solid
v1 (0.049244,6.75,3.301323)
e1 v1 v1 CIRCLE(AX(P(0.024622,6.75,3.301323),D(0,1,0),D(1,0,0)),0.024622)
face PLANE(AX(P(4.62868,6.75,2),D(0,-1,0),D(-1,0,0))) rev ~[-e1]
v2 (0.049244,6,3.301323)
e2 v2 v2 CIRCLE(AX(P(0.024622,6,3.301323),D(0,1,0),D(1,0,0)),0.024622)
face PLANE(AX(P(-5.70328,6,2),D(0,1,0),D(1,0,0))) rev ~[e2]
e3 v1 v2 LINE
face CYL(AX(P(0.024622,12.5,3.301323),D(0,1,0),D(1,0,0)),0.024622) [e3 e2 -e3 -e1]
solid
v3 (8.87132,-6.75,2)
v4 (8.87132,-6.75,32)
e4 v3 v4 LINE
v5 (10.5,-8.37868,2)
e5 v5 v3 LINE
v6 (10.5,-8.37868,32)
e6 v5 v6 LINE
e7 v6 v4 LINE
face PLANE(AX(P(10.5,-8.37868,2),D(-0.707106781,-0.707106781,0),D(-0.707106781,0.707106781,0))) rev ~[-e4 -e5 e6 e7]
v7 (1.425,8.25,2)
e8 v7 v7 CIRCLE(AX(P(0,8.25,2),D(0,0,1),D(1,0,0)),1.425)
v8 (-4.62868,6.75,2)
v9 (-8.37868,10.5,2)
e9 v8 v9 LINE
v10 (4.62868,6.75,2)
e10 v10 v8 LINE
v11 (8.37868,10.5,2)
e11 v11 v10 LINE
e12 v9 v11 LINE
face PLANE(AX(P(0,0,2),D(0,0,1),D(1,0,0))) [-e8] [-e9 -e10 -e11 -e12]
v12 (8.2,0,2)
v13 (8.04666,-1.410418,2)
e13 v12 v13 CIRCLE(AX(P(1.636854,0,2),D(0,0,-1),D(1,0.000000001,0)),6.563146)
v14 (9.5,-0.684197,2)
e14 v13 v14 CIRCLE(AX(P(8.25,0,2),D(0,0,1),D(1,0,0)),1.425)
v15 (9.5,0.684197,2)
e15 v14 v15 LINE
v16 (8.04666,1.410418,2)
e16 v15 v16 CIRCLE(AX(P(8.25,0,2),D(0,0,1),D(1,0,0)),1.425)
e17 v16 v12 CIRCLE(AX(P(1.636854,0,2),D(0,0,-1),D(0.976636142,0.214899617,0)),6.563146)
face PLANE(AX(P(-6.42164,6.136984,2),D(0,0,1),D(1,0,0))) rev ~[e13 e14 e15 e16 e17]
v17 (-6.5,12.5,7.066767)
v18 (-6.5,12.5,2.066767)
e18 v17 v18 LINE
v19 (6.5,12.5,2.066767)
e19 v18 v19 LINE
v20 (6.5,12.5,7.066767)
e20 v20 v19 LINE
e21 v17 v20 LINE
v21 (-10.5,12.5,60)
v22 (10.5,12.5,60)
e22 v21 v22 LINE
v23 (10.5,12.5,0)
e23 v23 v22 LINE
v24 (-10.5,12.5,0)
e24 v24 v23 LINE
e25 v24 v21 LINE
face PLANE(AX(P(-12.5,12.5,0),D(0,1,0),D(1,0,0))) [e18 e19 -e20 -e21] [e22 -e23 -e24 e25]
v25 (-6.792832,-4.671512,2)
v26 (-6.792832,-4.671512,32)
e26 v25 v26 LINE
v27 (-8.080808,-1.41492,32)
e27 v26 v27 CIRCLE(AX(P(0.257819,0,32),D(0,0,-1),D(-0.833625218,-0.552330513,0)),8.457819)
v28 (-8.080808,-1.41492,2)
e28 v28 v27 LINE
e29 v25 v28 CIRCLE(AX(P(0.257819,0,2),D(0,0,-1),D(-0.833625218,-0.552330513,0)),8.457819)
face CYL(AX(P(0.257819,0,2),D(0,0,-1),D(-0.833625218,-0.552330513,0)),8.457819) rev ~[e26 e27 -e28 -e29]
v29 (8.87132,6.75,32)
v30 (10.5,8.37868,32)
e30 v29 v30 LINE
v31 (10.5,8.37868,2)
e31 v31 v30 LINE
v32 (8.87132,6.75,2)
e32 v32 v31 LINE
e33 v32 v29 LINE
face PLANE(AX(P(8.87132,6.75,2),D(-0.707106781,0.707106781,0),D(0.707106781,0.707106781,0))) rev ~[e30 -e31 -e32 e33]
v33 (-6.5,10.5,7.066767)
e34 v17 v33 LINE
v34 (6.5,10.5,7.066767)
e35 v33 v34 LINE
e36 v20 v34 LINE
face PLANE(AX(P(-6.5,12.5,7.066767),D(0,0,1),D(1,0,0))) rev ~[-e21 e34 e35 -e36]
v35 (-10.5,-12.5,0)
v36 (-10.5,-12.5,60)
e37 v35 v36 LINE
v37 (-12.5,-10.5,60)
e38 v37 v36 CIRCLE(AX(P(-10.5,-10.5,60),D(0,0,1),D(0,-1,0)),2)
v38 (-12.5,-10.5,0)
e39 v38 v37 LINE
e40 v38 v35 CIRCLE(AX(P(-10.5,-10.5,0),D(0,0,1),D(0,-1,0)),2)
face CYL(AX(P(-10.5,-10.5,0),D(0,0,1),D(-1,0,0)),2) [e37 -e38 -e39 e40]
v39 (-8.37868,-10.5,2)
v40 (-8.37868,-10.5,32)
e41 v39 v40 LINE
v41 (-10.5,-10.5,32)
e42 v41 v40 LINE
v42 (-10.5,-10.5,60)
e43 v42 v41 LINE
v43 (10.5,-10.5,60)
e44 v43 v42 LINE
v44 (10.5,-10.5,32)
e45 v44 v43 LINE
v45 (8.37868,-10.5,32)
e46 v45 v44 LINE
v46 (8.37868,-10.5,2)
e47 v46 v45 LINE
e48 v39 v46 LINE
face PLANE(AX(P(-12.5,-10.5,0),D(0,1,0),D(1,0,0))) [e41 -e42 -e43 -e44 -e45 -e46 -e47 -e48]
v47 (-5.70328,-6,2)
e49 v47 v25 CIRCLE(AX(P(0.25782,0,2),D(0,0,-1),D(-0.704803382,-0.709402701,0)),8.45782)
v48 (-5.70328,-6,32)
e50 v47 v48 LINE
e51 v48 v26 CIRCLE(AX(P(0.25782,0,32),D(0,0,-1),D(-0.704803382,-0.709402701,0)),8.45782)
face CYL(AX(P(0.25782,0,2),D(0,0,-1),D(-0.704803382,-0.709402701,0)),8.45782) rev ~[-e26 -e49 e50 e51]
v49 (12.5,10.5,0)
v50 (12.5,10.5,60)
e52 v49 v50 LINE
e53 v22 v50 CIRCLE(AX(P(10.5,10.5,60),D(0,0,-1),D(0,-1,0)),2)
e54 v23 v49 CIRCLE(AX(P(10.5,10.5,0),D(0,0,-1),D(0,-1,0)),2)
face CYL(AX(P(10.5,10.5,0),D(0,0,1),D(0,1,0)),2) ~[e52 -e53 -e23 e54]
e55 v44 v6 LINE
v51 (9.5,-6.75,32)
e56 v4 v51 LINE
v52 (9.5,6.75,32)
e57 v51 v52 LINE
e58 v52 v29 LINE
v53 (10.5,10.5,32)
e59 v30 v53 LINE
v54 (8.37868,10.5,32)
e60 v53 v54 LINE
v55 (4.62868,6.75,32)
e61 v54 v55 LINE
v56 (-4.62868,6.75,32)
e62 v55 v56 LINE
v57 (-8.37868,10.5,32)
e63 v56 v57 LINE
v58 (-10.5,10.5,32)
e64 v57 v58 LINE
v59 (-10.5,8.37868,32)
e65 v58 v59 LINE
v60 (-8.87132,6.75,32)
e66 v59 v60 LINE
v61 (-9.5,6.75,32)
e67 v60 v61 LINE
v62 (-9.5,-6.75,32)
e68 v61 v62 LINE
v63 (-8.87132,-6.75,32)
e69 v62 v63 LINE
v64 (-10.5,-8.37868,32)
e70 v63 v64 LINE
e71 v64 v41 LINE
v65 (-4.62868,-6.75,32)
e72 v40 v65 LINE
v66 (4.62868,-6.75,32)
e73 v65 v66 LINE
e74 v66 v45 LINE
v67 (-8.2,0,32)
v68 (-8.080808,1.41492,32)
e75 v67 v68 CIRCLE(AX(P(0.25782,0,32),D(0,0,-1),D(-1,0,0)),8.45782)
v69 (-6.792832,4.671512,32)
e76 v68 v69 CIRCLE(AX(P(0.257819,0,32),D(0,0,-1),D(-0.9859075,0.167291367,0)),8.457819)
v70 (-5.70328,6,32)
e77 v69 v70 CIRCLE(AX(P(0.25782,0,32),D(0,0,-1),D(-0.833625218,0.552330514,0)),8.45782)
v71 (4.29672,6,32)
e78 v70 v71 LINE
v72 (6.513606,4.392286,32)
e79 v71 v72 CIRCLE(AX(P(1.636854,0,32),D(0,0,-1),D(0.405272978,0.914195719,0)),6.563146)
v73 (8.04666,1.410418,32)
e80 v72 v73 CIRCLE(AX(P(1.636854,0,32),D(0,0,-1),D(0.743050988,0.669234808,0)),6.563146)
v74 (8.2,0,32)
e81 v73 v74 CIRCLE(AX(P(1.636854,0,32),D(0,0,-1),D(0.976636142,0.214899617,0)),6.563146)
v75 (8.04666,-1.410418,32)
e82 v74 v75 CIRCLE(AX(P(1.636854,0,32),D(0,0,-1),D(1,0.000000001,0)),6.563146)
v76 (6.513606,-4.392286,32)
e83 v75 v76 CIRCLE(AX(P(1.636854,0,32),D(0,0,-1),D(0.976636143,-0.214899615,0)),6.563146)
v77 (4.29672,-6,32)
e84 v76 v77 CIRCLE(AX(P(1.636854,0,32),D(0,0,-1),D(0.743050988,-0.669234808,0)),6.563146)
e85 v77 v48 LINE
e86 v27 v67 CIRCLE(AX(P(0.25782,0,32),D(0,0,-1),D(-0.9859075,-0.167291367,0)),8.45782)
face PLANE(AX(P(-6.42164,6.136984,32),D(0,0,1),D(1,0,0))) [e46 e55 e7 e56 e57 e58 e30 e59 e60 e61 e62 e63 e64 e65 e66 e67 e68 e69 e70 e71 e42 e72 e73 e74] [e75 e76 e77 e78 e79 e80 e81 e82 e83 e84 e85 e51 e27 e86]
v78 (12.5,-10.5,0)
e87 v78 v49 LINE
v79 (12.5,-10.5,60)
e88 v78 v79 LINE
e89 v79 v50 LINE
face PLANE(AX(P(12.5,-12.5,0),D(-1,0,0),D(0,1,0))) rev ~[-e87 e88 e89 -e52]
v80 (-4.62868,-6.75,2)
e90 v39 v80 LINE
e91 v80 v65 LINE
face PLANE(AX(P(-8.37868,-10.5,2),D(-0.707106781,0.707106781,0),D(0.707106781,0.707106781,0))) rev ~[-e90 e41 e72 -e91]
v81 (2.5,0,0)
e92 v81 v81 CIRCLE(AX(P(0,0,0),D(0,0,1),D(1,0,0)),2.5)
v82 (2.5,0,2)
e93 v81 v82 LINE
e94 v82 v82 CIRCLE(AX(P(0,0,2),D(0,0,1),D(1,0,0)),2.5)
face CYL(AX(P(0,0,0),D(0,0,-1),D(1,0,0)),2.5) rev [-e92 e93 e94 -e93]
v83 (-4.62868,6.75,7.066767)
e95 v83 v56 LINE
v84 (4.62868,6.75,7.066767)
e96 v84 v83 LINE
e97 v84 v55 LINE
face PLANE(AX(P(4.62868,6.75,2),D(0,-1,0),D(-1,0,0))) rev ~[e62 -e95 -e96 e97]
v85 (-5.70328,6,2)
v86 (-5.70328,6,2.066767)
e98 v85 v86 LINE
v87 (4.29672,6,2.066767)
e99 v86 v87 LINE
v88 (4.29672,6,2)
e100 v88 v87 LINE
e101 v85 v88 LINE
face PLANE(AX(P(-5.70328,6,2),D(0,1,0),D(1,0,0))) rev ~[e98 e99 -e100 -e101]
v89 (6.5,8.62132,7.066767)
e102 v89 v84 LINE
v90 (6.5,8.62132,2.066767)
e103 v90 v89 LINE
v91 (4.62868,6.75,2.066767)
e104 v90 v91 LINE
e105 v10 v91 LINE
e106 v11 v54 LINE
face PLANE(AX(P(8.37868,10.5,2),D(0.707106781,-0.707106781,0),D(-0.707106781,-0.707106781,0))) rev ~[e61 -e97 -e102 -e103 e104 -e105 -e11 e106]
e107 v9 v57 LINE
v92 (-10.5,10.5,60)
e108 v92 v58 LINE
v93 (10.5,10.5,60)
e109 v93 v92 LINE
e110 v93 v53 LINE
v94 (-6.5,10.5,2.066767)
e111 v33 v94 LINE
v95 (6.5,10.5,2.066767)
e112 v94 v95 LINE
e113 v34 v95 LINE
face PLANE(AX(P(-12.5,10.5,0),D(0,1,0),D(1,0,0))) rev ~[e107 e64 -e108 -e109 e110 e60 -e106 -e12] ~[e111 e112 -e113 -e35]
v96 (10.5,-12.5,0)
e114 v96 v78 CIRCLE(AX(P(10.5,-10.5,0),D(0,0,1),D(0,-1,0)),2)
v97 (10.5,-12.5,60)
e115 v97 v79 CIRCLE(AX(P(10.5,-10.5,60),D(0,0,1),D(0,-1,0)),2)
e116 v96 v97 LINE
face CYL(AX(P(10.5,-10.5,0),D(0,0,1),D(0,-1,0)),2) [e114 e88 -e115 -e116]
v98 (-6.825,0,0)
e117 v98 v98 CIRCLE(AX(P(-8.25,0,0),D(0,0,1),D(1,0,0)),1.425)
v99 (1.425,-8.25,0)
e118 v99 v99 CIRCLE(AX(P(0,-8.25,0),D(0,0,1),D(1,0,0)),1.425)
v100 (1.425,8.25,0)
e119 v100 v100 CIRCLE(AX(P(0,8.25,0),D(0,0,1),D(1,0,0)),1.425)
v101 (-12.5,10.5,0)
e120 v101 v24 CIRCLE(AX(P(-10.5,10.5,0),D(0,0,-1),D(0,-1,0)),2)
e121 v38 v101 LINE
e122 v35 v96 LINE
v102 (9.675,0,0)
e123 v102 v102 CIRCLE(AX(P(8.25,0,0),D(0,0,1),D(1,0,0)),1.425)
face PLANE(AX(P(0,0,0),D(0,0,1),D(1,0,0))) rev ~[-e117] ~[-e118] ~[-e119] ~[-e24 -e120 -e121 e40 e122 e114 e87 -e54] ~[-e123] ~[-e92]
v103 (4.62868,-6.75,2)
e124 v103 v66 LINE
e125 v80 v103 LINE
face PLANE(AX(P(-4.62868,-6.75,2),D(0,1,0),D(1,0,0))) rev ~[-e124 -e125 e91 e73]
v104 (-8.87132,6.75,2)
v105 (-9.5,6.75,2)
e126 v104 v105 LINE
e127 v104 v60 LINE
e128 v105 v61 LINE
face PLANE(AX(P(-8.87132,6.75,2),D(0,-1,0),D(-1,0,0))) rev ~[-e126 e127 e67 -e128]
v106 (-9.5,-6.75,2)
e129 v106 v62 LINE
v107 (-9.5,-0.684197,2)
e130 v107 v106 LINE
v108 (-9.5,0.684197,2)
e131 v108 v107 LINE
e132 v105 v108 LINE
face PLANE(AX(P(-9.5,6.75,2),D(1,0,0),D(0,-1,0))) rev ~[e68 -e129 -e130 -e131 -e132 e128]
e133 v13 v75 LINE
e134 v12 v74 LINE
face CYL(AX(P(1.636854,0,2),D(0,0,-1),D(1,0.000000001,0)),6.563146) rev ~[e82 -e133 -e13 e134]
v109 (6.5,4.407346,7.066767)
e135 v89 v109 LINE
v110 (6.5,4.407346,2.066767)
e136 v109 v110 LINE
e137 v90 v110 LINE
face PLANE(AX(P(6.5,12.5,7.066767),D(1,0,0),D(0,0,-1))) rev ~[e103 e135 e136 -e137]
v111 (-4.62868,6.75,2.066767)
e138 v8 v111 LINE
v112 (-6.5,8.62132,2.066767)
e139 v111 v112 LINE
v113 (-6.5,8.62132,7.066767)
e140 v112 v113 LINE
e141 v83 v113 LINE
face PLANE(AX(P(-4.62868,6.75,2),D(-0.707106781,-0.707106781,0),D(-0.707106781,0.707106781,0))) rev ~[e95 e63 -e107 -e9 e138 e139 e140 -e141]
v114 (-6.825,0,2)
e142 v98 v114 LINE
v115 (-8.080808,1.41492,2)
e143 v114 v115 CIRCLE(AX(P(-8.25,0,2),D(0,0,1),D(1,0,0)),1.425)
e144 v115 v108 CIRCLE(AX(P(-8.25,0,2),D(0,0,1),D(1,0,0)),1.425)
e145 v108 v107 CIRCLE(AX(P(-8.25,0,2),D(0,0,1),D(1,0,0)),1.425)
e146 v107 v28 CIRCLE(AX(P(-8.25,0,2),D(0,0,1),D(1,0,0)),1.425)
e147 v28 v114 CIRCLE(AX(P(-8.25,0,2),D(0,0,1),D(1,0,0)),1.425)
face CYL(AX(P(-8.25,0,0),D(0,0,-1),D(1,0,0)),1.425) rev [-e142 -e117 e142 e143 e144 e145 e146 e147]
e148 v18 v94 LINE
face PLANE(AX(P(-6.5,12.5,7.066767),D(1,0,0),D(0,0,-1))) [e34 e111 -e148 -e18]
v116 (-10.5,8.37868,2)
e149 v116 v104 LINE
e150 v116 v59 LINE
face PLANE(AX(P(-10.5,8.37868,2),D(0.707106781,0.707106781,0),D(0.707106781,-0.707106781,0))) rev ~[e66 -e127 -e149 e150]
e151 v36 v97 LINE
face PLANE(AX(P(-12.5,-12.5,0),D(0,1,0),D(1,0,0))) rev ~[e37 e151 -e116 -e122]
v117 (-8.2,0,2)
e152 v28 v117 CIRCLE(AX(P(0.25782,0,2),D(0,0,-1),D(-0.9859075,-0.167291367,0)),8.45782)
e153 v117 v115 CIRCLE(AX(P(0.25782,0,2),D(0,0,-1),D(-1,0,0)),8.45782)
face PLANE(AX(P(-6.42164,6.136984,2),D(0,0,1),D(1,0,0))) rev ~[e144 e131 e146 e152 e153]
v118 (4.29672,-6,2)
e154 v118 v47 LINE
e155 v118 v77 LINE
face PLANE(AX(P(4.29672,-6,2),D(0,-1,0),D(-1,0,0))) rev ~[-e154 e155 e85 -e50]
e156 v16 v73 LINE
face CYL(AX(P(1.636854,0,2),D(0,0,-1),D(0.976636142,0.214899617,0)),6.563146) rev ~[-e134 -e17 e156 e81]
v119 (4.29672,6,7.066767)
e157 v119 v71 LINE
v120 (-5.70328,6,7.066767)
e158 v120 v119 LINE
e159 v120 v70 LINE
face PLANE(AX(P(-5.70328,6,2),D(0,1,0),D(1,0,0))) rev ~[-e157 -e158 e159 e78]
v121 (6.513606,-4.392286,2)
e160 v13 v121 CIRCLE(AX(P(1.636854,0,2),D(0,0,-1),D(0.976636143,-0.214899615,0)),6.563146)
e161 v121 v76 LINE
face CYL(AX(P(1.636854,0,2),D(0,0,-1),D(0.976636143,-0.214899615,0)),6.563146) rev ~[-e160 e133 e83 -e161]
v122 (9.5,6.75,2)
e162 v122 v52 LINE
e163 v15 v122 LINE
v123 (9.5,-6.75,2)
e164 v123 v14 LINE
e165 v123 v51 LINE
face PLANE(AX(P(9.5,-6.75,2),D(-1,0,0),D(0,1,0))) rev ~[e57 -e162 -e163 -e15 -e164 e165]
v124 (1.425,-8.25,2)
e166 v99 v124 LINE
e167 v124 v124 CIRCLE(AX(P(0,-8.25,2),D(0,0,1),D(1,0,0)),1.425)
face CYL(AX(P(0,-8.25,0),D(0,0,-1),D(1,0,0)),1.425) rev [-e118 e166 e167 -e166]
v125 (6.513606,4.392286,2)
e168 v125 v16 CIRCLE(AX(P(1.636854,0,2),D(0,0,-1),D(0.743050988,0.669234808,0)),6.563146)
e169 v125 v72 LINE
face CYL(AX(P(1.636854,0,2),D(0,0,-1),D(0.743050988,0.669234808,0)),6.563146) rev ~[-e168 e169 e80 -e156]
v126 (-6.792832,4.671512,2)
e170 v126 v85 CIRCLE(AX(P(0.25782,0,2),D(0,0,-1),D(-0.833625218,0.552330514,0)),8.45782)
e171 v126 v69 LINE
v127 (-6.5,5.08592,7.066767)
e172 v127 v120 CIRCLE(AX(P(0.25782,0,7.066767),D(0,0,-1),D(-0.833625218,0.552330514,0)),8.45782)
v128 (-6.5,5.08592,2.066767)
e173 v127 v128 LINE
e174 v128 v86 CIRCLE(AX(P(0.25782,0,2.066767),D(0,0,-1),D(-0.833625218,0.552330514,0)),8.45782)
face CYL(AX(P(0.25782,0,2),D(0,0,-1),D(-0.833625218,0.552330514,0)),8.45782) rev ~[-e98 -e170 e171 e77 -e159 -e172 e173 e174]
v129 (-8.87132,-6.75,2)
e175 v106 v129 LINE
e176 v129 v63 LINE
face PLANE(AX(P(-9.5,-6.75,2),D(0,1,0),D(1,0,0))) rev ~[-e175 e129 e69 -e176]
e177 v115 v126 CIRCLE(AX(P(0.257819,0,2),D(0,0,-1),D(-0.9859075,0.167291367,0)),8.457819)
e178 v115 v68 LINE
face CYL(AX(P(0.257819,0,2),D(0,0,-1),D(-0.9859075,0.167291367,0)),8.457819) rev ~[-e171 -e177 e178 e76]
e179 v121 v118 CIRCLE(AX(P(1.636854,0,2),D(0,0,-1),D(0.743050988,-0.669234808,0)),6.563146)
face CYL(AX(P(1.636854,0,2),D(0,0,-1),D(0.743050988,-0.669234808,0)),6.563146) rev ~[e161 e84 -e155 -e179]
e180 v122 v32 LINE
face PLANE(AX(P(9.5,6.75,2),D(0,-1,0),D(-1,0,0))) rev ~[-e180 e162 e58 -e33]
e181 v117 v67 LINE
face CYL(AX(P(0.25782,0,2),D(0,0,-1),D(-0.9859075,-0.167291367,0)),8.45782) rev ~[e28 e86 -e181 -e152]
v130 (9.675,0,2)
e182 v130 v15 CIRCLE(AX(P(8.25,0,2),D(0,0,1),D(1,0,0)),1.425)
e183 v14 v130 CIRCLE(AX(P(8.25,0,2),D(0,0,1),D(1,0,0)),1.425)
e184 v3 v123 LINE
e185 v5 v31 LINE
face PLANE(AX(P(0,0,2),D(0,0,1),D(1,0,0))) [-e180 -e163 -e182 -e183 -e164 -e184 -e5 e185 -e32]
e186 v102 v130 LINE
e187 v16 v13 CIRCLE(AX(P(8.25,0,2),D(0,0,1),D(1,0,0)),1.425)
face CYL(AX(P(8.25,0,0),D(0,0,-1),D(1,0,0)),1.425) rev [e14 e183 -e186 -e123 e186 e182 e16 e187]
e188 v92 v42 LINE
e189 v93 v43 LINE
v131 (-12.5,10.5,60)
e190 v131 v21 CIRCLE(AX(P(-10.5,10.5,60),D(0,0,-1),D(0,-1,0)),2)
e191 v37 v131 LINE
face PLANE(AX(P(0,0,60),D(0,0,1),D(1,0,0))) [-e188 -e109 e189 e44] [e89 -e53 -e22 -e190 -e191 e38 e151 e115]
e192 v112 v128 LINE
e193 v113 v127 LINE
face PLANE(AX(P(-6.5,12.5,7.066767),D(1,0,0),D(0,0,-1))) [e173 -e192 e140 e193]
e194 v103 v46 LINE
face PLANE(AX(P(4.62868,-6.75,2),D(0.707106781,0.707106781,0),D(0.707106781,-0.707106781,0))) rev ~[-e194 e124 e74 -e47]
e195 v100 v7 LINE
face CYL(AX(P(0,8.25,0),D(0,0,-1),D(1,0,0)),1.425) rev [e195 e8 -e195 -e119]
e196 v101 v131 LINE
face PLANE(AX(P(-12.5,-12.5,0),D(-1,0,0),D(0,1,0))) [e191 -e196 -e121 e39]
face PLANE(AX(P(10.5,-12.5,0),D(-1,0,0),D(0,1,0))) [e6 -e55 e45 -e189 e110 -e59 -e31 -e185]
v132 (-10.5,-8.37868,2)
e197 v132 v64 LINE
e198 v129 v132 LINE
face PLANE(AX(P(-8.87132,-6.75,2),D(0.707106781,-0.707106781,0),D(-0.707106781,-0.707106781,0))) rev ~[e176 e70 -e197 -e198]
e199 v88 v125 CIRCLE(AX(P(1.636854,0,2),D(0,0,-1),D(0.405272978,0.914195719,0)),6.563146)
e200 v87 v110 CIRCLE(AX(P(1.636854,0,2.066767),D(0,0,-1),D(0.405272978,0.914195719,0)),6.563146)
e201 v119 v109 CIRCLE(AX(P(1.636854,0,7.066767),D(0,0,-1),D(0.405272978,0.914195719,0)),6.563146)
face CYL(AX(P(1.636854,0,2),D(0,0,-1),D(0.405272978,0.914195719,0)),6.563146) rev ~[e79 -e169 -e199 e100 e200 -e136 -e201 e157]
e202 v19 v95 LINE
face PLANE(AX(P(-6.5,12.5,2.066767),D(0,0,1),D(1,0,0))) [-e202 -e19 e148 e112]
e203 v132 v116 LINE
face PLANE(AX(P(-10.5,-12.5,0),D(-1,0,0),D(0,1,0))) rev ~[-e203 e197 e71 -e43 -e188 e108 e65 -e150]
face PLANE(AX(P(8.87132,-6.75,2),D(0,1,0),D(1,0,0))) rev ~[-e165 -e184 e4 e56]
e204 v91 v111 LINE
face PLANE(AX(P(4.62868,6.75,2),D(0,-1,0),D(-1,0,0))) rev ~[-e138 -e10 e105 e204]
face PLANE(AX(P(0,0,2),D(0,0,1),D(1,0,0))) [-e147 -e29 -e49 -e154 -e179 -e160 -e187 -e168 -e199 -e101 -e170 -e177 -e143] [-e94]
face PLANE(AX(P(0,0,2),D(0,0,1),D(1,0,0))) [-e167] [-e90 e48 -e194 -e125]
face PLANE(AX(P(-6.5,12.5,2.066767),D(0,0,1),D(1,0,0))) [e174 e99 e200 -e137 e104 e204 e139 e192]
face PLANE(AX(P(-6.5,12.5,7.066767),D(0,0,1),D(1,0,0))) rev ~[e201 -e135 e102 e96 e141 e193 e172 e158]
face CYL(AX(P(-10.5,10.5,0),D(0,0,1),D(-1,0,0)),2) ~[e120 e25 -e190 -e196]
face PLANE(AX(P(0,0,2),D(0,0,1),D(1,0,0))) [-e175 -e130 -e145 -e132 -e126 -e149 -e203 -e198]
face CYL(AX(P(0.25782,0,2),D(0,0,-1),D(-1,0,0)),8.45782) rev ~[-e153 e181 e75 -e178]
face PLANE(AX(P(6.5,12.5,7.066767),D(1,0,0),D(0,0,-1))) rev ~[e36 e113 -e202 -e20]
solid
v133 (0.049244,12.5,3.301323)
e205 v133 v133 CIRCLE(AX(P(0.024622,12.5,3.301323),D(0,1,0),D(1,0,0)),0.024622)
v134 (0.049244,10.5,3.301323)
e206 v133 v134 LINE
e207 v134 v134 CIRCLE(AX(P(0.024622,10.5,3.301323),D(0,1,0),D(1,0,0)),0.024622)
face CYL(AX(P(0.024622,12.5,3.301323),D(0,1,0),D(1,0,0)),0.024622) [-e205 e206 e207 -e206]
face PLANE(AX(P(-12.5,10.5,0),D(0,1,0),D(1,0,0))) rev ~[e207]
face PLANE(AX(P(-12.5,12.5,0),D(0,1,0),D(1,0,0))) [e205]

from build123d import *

# Parameters (mm, degrees)
SKETCH1_W           = 25
SKETCH1_H           = 25
BOSS_EXTRUDE1_DEPTH = 60
SHELL1_T            = -2
SKETCH2_R           = 2.5
SKETCH2_R_2         = 1.425
CUT_EXTRUDE4_DEPTH  = 2
BOSS_EXTRUDE3_DEPTH = 30
FILLET1_R           = 2
SKETCH5_W           = 13
SKETCH5_H           = 5
SKETCH5_R           = 0.024622166
CUT_EXTRUDE6_DEPTH  = 10


with BuildPart() as part:
    # Sketch1 → Boss-Extrude1 (new body)
    with BuildSketch(Plane.XY):
        Rectangle(SKETCH1_W, SKETCH1_H)
    extrude(amount=BOSS_EXTRUDE1_DEPTH)

    # Shell1
    shell1_openings = [part.faces().sort_by_distance(p)[0] for p in [
        (0, 0, 60),
    ]]
    offset(amount=SHELL1_T, openings=shell1_openings, kind=Kind.INTERSECTION)

    # Sketch2 → Cut-Extrude4 (cut)
    with BuildSketch(Plane.XY):
        Circle(SKETCH2_R)
        with Locations((8.25, 0)):
            Circle(SKETCH2_R_2)
        with Locations((0, -8.25)):
            Circle(SKETCH2_R_2)
        with Locations((-8.25, 0)):
            Circle(SKETCH2_R_2)
        with Locations((0, 8.25)):
            Circle(SKETCH2_R_2)
    extrude(amount=CUT_EXTRUDE4_DEPTH, mode=Mode.SUBTRACT)

    # Sketch4 → Boss-Extrude3 (add)
    with BuildSketch(Plane.XY.offset(2)):
        with BuildLine():
            Line((-8.871320344, 6.75), (-6.792832126, 4.671511782))
            ThreePointArc((-6.792832126, 4.671511782), (-6.28187766, 5.363494358), (-5.703280287, 6))
            Line((-5.703280287, 6), (-3.878679656, 6))
            Line((-3.878679656, 6), (-4.628679656, 6.75))
            Line((-4.628679656, 6.75), (-8.871320344, 6.75))
        make_face()
        Polygon((-10.5, 8.378679656), (-8.871320344, 6.75), (-4.628679656, 6.75), (-8.378679656, 10.5), (-10.5, 10.5), align=None)
        Polygon((-3.878679656, 6), (0, 6), (3.878679656, 6), (4.628679656, 6.75), (-4.628679656, 6.75), align=None)
        Polygon((8.378679656, 10.5), (4.628679656, 6.75), (8.871320344, 6.75), (10.5, 8.378679656), (10.5, 10.5), align=None)
        with BuildLine():
            Line((4.628679656, 6.75), (3.878679656, 6))
            Line((3.878679656, 6), (4.296719713, 6))
            ThreePointArc((4.296719713, 6), (5.489948643, 5.313054416), (6.513606116, 4.392285772))
            Line((6.513606116, 4.392285772), (8.871320344, 6.75))
            Line((8.871320344, 6.75), (4.628679656, 6.75))
        make_face()
        with BuildLine():
            ThreePointArc((-5.703280287, -6), (-6.28187766, -5.363494358), (-6.792832126, -4.671511782))
            Line((-6.792832126, -4.671511782), (-8.871320344, -6.75))
            Line((-8.871320344, -6.75), (-4.628679656, -6.75))
            Line((-4.628679656, -6.75), (-3.878679656, -6))
            Line((-3.878679656, -6), (-5.703280287, -6))
        make_face()
        with BuildLine():
            Line((4.296719713, -6), (3.878679656, -6))
            Line((3.878679656, -6), (4.628679656, -6.75))
            Line((4.628679656, -6.75), (8.871320344, -6.75))
            Line((8.871320344, -6.75), (6.513606116, -4.392285772))
            ThreePointArc((6.513606116, -4.392285772), (5.489948643, -5.313054416), (4.296719713, -6))
        make_face()
        Polygon((-4.628679656, -6.75), (-8.871320344, -6.75), (-10.5, -8.378679656), (-10.5, -10.5), (-8.378679656, -10.5), align=None)
        Polygon((8.871320344, -6.75), (4.628679656, -6.75), (8.378679656, -10.5), (10.5, -10.5), (10.5, -8.378679656), align=None)
        with BuildLine():
            Line((8.871320344, 6.75), (6.513606116, 4.392285772))
            ThreePointArc((6.513606116, 4.392285772), (7.473760778, 3.000900651), (8.046659593, 1.410417555))
            ThreePointArc((8.046659593, 1.410417555), (8.886964121, 1.274716325), (9.5, 0.684196609))
            Line((9.5, 0.684196609), (9.5, 6.75))
            Line((9.5, 6.75), (8.871320344, 6.75))
        make_face()
        with BuildLine():
            ThreePointArc((8.046659593, -1.410417555), (7.473760778, -3.000900651), (6.513606116, -4.392285772))
            Line((6.513606116, -4.392285772), (8.871320344, -6.75))
            Line((8.871320344, -6.75), (9.5, -6.75))
            Line((9.5, -6.75), (9.5, -0.684196609))
            ThreePointArc((9.5, -0.684196609), (8.886964121, -1.274716325), (8.046659593, -1.410417555))
        make_face()
        Polygon((3.878679656, -6), (0, -6), (-3.878679656, -6), (-4.628679656, -6.75), (4.628679656, -6.75), align=None)
        with BuildLine():
            ThreePointArc((-6.792832126, -4.671511782), (-7.607218745, -3.110608316), (-8.080808179, -1.414920184))
            ThreePointArc((-8.080808179, -1.414920184), (-8.902323398, -1.26692509), (-9.5, -0.684196609))
            Line((-9.5, -0.684196609), (-9.5, -6.75))
            Line((-9.5, -6.75), (-8.871320344, -6.75))
            Line((-8.871320344, -6.75), (-6.792832126, -4.671511782))
        make_face()
        with BuildLine():
            ThreePointArc((-9.5, 0.684196609), (-8.902323398, 1.26692509), (-8.080808179, 1.414920184))
            ThreePointArc((-8.080808179, 1.414920184), (-7.607218745, 3.110608316), (-6.792832126, 4.671511782))
            Line((-6.792832126, 4.671511782), (-8.871320344, 6.75))
            Line((-8.871320344, 6.75), (-9.5, 6.75))
            Line((-9.5, 6.75), (-9.5, 0.684196609))
        make_face()
        with BuildLine():
            ThreePointArc((-8.080808179, -1.414920184), (-8.170149368, -0.709965812), (-8.2, 0))
            ThreePointArc((-8.2, 0), (-8.170149368, 0.709965812), (-8.080808179, 1.414920184))
            ThreePointArc((-8.080808179, 1.414920184), (-8.902323398, 1.26692509), (-9.5, 0.684196609))
            Line((-9.5, 0.684196609), (-9.5, -0.684196609))
            ThreePointArc((-9.5, -0.684196609), (-8.902323398, -1.26692509), (-8.080808179, -1.414920184))
        make_face()
        with BuildLine():
            ThreePointArc((8.046659593, 1.410417555), (8.161552283, 0.709364321), (8.2, 0))
            ThreePointArc((8.2, 0), (8.161552283, -0.709364321), (8.046659593, -1.410417555))
            ThreePointArc((8.046659593, -1.410417555), (8.886964121, -1.274716325), (9.5, -0.684196609))
            Line((9.5, -0.684196609), (9.5, 0.684196609))
            ThreePointArc((9.5, 0.684196609), (8.886964121, 1.274716325), (8.046659593, 1.410417555))
        make_face()
    extrude(amount=BOSS_EXTRUDE3_DEPTH)

    # Fillet1
    fillet1_edges = [part.edges().sort_by_distance(p)[0] for p in [
        (12.5, -12.5, 30),
        (-12.5, -12.5, 30),
        (-12.5, 12.5, 30),
        (12.5, 12.5, 30),
    ]]
    fillet(fillet1_edges, radius=FILLET1_R)

    # Sketch5 → Cut-Extrude6 (cut)
    with BuildSketch(Plane(origin=(0, 12.5, 0), x_dir=(1, 0, 0), z_dir=(0, 1, 0))):
        with Locations((0, -4.566766708)):
            Rectangle(SKETCH5_W, SKETCH5_H)
        with Locations((0.024622166, -3.301323142)):
            Circle(SKETCH5_R, mode=Mode.SUBTRACT)
    extrude(amount=-CUT_EXTRUDE6_DEPTH, mode=Mode.SUBTRACT)


solid = part.part
